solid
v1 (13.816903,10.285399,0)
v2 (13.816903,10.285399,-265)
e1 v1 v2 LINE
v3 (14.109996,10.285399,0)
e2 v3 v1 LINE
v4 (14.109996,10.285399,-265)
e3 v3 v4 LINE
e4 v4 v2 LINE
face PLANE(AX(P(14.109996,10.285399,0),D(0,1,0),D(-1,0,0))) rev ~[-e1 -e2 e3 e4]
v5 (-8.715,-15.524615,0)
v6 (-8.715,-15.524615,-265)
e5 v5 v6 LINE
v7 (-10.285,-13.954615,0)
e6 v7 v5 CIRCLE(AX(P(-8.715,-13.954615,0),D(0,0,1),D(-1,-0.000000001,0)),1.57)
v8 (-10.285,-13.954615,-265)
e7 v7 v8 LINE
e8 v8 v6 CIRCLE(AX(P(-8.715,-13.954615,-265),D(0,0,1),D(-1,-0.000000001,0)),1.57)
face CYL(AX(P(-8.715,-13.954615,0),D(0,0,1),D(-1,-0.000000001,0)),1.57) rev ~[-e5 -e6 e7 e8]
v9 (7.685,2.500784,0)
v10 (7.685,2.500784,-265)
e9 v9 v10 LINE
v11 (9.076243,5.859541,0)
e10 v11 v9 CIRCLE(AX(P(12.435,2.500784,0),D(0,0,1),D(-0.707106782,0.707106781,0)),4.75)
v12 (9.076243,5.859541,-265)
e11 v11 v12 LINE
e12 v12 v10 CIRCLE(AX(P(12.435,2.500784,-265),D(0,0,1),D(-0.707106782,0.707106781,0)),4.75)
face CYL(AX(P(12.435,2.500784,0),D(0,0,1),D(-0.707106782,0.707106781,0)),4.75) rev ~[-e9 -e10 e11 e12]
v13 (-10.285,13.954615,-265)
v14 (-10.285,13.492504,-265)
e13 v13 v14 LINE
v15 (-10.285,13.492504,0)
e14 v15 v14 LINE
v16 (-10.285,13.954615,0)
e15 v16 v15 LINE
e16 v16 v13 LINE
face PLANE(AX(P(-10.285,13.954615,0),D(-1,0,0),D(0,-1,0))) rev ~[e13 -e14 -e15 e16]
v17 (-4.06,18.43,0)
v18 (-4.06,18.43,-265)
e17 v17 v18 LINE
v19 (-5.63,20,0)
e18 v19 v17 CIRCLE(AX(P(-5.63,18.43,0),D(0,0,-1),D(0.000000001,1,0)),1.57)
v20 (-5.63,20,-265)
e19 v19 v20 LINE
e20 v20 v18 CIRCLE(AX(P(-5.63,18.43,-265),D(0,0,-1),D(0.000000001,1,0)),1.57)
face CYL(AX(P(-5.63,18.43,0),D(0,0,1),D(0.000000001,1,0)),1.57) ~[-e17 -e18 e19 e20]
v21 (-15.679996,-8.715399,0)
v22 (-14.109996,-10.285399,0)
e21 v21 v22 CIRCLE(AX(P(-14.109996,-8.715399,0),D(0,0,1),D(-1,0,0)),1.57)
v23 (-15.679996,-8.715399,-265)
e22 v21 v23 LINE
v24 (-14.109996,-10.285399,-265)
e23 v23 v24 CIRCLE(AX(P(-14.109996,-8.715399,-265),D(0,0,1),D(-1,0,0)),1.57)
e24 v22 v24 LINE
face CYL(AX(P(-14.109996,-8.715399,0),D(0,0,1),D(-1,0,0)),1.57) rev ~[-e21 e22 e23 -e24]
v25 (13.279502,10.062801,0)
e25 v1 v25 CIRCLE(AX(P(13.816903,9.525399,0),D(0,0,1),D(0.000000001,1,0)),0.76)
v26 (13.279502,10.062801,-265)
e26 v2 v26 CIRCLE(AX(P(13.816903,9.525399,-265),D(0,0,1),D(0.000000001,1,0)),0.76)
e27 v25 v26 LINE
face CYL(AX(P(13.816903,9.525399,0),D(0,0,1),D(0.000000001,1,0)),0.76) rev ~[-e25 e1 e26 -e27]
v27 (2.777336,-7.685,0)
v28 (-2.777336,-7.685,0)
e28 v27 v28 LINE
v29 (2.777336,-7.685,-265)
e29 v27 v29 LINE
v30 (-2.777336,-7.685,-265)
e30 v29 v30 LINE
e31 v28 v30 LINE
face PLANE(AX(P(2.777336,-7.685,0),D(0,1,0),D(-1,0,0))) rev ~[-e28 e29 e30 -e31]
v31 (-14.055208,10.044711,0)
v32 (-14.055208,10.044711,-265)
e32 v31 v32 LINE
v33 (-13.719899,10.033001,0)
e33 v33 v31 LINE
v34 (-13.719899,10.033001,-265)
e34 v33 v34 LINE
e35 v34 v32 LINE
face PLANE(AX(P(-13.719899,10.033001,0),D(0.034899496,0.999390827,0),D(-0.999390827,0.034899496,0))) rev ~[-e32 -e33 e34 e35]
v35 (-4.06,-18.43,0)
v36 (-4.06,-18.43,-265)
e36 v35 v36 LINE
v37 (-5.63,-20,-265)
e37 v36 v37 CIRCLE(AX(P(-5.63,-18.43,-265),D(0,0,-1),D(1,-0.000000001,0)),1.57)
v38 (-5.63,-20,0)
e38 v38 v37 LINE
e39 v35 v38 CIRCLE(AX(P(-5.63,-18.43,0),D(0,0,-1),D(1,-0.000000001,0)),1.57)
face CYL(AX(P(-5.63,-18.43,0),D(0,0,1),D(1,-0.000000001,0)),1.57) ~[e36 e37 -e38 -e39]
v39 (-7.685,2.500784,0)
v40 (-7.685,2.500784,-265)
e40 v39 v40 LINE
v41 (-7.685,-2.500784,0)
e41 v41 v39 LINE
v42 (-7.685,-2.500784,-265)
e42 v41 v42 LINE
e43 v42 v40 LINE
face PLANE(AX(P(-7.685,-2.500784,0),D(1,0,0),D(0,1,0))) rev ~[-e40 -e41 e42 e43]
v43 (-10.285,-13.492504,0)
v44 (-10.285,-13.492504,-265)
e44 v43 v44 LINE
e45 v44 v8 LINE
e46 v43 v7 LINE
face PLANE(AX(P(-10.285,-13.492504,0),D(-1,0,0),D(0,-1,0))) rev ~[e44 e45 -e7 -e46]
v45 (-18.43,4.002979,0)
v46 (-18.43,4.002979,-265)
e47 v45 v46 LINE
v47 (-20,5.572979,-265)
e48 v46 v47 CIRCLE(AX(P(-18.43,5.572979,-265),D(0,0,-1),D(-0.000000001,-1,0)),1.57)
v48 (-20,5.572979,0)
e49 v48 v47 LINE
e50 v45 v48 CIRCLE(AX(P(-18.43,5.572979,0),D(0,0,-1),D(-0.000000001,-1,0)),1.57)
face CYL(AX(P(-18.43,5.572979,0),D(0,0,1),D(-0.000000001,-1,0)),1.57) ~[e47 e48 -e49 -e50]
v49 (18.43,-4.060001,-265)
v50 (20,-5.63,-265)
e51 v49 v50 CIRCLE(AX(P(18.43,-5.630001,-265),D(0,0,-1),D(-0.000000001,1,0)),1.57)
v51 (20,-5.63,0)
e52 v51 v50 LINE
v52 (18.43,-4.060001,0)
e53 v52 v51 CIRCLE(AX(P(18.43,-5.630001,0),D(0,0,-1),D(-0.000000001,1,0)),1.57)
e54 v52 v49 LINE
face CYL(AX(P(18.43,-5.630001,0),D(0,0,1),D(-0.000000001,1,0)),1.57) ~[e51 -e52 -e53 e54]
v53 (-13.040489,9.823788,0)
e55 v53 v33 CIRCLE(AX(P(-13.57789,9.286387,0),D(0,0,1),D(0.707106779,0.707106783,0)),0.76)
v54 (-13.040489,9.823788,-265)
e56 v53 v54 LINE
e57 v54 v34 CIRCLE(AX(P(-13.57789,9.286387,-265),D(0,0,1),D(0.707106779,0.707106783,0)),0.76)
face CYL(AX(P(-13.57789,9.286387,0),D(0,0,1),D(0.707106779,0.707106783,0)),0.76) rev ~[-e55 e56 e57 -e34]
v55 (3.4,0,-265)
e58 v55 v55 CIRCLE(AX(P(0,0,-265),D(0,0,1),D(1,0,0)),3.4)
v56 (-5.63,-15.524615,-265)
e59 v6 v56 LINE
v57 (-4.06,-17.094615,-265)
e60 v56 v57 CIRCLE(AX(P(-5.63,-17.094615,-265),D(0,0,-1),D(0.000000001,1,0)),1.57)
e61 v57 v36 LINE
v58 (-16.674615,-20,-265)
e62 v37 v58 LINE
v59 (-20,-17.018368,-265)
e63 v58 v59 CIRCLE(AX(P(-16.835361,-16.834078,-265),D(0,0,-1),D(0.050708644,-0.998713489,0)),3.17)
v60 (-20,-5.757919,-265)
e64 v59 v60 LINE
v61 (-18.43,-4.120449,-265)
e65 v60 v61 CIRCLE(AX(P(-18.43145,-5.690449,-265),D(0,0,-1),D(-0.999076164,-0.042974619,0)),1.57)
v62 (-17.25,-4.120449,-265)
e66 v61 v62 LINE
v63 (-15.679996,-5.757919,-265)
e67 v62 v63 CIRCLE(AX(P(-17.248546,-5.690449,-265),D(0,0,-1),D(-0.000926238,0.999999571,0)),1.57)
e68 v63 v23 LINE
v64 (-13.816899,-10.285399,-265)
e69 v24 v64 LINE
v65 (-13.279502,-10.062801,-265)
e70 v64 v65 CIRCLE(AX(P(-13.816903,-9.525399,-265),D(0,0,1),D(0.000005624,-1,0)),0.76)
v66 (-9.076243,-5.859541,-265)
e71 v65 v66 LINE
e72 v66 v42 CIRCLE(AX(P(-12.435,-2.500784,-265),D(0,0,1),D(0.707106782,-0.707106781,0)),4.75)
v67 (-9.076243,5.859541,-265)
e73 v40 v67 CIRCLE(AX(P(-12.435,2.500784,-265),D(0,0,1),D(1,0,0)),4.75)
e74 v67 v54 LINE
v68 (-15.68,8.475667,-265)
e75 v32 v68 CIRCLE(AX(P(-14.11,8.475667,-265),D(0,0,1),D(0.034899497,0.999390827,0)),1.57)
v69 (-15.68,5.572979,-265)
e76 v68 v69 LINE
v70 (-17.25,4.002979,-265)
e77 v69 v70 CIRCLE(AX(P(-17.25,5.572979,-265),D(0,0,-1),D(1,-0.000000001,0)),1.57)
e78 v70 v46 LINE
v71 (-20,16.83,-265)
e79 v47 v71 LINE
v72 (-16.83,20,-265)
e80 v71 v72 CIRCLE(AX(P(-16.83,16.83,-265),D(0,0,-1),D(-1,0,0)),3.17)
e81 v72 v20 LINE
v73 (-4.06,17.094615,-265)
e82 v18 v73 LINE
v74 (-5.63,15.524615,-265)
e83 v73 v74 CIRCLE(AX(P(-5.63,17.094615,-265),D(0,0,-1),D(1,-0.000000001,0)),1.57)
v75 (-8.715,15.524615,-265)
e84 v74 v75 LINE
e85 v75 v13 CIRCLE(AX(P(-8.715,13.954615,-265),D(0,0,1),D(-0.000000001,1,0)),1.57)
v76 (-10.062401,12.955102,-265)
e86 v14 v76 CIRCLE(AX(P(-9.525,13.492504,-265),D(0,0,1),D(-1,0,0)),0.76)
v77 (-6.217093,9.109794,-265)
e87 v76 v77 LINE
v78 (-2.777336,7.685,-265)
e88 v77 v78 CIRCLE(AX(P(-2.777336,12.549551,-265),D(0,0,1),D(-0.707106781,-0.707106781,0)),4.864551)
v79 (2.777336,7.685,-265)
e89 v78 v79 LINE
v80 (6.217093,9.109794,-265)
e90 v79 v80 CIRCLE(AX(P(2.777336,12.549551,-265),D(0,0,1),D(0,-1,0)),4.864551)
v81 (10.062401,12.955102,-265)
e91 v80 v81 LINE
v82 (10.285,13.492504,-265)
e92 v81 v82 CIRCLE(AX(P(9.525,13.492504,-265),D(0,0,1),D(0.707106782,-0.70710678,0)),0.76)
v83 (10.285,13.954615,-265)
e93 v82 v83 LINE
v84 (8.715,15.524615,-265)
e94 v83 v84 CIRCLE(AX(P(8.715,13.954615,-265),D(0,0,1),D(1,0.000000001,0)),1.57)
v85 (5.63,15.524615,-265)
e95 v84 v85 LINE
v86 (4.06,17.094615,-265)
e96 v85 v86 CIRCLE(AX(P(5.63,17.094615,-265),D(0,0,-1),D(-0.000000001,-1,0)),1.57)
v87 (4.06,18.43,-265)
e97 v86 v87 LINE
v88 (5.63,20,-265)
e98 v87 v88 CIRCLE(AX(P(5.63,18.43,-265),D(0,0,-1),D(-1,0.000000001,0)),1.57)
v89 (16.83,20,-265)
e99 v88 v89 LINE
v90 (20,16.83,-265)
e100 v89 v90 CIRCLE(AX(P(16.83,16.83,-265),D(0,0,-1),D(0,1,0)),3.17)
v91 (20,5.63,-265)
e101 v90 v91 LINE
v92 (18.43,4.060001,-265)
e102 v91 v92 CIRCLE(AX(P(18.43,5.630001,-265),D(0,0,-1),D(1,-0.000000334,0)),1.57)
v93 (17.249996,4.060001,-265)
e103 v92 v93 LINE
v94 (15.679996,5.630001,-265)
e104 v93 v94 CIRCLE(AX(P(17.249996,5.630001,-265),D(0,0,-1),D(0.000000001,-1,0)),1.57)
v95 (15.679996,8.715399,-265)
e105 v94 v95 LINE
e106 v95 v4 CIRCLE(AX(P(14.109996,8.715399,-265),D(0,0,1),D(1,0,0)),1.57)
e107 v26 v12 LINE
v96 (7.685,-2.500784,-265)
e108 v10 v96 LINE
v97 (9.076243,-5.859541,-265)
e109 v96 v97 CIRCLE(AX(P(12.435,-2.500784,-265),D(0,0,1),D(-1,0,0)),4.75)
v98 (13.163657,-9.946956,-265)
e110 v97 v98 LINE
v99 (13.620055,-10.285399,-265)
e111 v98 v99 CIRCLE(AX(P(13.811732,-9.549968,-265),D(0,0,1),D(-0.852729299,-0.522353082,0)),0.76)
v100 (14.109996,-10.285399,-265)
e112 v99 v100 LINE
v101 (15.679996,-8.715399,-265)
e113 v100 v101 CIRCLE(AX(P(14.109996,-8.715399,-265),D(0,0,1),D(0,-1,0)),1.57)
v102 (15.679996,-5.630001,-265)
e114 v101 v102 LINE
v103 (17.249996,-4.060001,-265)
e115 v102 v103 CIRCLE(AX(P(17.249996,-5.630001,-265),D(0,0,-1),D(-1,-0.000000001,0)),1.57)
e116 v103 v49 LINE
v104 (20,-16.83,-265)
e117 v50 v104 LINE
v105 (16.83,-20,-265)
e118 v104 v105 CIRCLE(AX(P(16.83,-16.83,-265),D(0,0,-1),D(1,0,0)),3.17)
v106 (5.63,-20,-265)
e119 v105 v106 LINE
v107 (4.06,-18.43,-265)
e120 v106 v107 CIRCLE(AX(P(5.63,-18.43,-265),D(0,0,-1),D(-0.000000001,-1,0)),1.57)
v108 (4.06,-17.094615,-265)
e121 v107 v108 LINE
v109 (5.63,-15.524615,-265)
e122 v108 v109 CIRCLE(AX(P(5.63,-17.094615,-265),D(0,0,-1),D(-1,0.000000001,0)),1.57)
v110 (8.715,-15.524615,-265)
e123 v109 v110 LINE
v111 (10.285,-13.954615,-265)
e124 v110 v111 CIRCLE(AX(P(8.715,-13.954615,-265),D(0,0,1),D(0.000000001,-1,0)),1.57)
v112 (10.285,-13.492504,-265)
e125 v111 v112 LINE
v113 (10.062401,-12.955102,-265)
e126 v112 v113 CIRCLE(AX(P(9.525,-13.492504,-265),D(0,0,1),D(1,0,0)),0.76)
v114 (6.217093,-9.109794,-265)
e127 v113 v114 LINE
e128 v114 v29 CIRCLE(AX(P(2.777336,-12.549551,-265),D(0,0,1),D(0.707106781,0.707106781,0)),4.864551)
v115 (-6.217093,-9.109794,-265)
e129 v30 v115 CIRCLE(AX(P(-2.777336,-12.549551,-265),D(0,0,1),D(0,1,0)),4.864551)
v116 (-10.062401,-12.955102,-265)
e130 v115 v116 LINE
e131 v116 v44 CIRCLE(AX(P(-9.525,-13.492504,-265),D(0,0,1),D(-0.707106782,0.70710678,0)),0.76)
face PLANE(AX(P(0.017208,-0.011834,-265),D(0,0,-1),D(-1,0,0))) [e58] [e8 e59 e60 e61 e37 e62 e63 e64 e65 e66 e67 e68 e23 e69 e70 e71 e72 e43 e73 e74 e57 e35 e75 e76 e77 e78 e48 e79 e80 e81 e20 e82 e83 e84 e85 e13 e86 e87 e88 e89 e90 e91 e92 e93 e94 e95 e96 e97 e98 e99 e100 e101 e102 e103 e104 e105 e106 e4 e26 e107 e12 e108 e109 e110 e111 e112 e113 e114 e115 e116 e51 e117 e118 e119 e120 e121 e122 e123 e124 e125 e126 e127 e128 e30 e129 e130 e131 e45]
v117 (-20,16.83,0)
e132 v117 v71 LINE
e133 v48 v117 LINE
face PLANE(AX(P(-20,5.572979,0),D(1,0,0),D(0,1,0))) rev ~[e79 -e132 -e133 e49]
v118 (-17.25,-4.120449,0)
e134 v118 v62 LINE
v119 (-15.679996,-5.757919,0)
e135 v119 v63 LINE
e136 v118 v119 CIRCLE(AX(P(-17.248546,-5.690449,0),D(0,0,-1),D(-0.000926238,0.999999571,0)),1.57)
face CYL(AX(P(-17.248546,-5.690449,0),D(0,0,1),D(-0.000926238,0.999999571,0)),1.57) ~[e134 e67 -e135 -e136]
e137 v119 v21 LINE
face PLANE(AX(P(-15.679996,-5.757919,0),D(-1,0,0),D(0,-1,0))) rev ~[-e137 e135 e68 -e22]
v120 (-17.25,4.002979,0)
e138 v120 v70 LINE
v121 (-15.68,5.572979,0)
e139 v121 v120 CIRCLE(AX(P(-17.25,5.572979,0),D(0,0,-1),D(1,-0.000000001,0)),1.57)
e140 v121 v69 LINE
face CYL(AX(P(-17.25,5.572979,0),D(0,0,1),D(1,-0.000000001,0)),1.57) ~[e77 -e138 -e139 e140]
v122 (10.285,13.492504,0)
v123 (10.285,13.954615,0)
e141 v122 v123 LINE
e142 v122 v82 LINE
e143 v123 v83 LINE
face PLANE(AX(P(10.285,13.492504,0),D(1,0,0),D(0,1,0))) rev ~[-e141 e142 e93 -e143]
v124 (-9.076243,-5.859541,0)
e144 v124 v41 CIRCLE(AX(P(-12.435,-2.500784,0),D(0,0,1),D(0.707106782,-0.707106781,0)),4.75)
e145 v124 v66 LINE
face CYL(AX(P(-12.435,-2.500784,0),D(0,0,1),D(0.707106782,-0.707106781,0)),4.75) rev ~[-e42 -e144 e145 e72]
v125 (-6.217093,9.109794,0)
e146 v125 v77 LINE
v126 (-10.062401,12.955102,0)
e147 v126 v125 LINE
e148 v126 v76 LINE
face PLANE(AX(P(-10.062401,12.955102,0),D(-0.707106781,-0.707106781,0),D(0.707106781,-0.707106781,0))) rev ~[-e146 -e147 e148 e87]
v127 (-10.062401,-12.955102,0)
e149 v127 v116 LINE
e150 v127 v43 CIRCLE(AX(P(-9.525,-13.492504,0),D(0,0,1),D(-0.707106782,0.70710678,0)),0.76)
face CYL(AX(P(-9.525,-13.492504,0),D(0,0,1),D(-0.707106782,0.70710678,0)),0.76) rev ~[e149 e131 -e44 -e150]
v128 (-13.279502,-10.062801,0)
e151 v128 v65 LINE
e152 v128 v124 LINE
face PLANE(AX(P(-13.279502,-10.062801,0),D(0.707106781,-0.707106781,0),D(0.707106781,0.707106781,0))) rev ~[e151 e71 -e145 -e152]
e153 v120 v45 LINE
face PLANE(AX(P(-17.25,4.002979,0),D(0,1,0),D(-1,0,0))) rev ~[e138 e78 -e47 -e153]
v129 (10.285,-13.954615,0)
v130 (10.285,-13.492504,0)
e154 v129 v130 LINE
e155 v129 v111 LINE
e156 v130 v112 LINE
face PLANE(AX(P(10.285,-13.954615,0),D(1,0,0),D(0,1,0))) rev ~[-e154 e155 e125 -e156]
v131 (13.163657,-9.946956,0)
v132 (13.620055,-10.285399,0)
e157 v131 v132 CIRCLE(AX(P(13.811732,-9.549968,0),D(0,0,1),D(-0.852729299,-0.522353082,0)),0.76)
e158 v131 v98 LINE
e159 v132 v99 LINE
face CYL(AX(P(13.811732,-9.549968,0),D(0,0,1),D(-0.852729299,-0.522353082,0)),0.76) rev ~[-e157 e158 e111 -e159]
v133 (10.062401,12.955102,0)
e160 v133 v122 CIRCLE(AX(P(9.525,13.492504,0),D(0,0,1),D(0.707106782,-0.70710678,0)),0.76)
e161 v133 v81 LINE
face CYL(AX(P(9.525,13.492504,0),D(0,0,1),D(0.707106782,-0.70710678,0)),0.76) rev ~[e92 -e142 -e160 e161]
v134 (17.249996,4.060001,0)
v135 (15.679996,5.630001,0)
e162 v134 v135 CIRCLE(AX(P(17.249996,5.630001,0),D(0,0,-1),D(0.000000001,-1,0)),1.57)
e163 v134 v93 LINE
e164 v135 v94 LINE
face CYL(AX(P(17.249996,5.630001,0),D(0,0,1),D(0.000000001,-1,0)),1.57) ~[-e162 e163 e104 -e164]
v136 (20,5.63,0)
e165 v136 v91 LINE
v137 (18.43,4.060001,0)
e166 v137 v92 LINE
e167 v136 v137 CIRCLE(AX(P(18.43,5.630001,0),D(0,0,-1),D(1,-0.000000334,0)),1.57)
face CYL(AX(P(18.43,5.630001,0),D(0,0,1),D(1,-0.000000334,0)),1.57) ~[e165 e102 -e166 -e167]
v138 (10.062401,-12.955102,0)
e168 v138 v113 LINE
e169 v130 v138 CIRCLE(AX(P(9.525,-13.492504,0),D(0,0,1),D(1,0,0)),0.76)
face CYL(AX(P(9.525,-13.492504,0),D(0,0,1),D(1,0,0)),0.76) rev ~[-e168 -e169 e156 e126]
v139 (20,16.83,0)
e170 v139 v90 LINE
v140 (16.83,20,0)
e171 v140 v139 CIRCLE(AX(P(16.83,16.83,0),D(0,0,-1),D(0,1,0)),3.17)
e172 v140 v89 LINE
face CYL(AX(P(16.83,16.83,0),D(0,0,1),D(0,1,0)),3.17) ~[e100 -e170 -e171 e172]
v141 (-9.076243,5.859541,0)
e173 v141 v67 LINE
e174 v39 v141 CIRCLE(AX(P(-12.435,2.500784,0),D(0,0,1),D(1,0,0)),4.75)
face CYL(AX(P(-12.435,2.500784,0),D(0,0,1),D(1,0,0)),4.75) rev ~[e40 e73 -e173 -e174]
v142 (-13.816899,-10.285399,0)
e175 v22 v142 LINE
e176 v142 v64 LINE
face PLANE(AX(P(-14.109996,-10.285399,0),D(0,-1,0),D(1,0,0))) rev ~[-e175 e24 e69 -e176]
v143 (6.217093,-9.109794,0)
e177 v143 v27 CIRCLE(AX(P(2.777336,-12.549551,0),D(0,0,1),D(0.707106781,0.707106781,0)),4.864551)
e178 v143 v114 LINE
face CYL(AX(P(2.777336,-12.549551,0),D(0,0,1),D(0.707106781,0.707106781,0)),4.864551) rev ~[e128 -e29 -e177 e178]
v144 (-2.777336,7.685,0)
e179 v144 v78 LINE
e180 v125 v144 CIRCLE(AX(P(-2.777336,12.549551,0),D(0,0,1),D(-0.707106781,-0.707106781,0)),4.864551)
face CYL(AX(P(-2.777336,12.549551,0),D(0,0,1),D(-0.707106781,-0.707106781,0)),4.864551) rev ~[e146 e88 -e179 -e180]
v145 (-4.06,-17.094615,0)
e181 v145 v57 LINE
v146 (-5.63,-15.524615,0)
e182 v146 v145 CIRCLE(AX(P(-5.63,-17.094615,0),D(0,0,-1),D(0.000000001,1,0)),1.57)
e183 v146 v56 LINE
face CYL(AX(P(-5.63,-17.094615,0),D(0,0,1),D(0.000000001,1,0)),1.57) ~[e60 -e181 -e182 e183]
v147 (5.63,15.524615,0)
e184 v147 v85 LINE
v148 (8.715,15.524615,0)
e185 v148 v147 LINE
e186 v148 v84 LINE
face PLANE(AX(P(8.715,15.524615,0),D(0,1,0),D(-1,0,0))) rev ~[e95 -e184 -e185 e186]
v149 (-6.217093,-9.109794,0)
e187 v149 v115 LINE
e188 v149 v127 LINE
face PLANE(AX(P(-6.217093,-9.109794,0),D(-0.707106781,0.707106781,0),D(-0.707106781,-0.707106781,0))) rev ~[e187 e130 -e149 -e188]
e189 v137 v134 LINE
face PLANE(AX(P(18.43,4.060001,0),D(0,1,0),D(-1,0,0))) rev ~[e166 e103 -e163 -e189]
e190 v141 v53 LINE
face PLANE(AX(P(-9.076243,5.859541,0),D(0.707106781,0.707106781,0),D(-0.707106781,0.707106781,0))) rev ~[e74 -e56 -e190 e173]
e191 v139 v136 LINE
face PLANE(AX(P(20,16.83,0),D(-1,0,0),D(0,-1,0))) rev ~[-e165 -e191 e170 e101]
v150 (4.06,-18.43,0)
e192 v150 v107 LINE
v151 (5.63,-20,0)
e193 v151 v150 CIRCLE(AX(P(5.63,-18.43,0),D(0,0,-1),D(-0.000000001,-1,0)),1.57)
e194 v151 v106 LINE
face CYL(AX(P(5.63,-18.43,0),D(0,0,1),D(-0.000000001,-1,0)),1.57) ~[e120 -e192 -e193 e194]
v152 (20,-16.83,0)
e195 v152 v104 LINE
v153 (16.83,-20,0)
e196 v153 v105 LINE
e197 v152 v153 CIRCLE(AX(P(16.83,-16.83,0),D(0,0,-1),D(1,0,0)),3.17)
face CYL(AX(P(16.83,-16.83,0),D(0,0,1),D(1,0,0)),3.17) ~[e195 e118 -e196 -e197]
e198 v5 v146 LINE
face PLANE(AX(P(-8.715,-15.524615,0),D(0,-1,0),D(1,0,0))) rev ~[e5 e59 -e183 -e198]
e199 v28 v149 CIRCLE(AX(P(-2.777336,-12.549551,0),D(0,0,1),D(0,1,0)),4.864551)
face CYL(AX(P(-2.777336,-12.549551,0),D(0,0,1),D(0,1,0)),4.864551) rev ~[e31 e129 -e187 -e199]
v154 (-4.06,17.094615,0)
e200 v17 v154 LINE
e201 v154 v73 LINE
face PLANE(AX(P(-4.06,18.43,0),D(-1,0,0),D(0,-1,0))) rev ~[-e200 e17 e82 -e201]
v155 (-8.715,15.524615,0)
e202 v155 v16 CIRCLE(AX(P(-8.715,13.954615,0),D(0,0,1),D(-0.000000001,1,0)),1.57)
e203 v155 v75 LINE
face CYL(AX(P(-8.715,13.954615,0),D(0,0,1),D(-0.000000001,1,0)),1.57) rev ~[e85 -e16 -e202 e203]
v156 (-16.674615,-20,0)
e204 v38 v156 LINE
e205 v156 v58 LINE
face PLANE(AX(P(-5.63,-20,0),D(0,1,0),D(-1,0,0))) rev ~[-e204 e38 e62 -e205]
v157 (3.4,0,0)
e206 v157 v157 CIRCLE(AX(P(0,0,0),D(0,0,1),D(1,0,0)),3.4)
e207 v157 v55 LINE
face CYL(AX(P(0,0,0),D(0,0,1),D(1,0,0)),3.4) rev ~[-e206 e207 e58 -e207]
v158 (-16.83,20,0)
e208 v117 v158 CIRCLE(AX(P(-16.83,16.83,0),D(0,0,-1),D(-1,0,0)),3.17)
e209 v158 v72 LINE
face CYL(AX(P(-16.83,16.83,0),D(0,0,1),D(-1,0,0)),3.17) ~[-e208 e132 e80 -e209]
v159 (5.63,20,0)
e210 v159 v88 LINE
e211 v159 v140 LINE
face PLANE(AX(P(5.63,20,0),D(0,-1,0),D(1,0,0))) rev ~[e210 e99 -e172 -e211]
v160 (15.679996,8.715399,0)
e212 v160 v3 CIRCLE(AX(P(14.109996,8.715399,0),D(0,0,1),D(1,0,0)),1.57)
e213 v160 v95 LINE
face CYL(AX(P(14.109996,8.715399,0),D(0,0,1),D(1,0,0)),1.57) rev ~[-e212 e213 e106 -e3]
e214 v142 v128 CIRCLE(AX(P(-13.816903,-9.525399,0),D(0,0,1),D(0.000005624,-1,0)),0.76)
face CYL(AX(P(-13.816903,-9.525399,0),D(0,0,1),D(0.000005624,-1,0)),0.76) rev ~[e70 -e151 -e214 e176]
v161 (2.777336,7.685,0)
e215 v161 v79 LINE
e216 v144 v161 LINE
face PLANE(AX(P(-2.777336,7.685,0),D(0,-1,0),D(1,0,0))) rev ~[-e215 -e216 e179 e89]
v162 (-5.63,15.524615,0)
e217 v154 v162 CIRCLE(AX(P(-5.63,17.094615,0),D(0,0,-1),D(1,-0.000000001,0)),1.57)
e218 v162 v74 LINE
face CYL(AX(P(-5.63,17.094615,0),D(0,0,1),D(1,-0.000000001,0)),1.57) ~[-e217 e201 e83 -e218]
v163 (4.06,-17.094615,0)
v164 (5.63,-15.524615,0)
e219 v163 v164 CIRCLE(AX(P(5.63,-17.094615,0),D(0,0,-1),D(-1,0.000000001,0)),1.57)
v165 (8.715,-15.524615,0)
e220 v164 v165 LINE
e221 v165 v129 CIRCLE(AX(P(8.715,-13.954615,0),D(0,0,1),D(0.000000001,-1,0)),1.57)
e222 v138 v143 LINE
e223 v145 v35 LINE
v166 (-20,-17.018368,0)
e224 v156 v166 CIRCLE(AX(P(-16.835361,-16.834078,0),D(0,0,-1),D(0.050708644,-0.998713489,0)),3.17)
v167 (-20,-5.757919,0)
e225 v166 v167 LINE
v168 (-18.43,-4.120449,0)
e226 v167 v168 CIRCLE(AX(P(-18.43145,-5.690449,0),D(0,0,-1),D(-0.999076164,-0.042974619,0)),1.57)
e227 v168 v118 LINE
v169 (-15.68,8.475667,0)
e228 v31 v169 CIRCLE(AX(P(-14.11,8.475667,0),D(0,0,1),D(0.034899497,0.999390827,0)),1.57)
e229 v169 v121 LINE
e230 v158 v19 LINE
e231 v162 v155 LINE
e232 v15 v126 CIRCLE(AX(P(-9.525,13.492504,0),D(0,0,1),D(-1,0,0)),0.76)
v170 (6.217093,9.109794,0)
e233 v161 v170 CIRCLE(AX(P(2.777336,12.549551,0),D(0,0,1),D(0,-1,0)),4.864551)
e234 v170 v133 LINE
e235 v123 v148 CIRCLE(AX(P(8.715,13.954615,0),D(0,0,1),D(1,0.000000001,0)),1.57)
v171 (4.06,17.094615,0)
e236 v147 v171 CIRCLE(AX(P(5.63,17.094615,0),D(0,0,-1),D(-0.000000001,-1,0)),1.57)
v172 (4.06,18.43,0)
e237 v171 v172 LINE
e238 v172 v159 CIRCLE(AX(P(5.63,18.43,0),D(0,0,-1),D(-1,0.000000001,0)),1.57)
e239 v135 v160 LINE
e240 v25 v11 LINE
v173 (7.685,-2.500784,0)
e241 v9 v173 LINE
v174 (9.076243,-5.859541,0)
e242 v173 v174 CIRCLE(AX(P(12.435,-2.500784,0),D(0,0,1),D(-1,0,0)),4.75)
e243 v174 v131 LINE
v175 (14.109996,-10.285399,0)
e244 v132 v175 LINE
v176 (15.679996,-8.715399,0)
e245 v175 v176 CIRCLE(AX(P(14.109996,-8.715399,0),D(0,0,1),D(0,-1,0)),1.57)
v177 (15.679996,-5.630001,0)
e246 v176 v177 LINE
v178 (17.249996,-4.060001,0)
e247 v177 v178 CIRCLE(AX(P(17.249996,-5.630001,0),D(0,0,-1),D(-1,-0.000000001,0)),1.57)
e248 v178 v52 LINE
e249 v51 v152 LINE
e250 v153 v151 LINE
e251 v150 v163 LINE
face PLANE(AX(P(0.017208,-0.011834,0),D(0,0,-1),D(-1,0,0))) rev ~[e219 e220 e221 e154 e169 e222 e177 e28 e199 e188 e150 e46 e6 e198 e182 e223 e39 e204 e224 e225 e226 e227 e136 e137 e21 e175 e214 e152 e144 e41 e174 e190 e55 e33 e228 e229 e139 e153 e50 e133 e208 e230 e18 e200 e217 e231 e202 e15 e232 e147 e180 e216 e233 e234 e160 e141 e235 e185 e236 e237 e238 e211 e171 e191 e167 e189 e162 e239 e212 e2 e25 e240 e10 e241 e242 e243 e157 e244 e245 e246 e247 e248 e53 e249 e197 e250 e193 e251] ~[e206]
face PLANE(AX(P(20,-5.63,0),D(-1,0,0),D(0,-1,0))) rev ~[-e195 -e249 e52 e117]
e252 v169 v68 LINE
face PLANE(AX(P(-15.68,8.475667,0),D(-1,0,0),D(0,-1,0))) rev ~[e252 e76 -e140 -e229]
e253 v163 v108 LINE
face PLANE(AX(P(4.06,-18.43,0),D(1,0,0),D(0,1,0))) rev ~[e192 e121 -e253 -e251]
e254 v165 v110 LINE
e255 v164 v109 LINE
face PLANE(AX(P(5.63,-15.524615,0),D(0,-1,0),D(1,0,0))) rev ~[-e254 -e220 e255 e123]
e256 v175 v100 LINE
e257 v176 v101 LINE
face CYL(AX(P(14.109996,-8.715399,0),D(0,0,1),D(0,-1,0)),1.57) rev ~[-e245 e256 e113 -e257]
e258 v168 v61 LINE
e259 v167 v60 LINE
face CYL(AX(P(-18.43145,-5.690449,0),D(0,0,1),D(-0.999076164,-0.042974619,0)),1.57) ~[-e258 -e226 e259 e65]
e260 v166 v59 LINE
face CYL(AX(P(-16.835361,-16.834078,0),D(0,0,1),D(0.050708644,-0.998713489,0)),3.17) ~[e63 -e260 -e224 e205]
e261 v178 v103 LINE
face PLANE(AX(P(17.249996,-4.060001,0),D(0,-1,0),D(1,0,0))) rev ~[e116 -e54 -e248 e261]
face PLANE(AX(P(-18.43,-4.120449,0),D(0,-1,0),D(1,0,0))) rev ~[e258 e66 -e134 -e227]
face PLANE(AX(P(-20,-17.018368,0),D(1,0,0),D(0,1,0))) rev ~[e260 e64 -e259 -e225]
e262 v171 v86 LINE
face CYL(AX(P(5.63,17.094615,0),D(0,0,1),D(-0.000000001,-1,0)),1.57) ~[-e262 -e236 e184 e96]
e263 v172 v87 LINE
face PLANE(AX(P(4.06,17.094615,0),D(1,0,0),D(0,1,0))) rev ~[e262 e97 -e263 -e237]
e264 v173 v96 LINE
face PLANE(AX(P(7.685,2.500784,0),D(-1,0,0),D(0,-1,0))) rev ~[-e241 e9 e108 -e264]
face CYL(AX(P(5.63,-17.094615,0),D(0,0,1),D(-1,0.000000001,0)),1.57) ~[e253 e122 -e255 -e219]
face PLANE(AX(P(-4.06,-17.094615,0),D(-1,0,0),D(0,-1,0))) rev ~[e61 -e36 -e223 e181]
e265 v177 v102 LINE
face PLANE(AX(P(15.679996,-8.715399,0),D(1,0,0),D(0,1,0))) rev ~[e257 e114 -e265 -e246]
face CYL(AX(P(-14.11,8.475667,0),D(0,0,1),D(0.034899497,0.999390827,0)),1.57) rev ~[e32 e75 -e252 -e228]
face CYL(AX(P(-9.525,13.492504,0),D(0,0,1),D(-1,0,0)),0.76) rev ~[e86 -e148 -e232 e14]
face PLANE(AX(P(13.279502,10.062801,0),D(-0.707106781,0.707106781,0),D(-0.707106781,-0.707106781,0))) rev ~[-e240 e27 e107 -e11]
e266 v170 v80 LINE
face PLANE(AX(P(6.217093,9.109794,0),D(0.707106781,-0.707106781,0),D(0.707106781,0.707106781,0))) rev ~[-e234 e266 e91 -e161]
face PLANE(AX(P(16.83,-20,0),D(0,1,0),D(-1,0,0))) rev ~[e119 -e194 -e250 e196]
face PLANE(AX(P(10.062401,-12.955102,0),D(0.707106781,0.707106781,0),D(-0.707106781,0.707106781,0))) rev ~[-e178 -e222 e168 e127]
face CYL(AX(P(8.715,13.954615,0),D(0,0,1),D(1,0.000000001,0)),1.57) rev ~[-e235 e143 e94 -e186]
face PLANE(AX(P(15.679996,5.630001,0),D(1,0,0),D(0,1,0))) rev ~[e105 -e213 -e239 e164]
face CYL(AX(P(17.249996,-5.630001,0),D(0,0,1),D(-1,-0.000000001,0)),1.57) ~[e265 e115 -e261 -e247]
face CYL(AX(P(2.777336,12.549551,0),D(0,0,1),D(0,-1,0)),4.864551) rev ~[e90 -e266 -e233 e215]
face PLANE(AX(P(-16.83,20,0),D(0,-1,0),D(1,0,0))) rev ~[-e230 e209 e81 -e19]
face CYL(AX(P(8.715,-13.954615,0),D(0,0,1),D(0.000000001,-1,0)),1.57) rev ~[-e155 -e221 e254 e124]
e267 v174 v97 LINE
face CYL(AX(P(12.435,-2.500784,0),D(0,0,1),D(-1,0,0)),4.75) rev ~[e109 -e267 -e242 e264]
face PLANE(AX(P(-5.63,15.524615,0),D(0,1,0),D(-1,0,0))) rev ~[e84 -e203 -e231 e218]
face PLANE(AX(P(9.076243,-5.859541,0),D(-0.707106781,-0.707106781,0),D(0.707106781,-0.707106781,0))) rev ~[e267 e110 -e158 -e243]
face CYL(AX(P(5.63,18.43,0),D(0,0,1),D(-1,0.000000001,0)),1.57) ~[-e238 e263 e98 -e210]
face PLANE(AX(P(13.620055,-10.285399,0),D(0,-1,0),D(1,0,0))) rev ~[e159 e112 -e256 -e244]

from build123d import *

# Parameters (mm, degrees)
SKETCH1_R      = 3.4
EXTRUDE1_DEPTH = 265


with BuildPart() as part:
    # Sketch1 → Extrude1 (new body)
    with BuildSketch(Plane.XY):
        with BuildLine():
            Line((-8.715, -15.524615034), (-5.63, -15.524615034))
            ThreePointArc((-5.63, -15.524615034), (-4.519842354, -15.984457388), (-4.06, -17.094615034))
            Line((-4.06, -17.094615034), (-4.06, -18.43))
            ThreePointArc((-4.06, -18.43), (-4.519842354, -19.540157646), (-5.63, -20))
            Line((-5.63, -20), (-16.674615034, -20))
            ThreePointArc((-16.674615034, -20), (-18.951578385, -19.194274381), (-20, -17.018368134))
            Line((-20, -17.018368134), (-20, -5.757918808))
            ThreePointArc((-20, -5.757918808), (-19.564709668, -4.603883664), (-18.43, -4.120449326))
            Line((-18.43, -4.120449326), (-17.25, -4.120449326))
            ThreePointArc((-17.25, -4.120449326), (-16.115287682, -4.60388249), (-15.67999625, -5.757919334))
            Line((-15.67999625, -5.757919334), (-15.67999625, -8.715399492))
            ThreePointArc((-15.67999625, -8.715399492), (-15.220153896, -9.825557139), (-14.10999625, -10.285399492))
            Line((-14.10999625, -10.285399492), (-13.816898819, -10.285399492))
            ThreePointArc((-13.816898819, -10.285399492), (-13.526061711, -10.227547119), (-13.279501941, -10.062800646))
            Line((-13.279501941, -10.062800646), (-9.076242789, -5.859541495))
            ThreePointArc((-9.076242789, -5.859541495), (-8.046572221, -4.318530588), (-7.685, -2.500784284))
            Line((-7.685, -2.500784284), (-7.685, 2.500784284))
            ThreePointArc((-7.685, 2.500784284), (-8.046572221, 4.318530588), (-9.076242789, 5.859541495))
            Line((-9.076242789, 5.859541495), (-13.040489136, 9.823787841))
            ThreePointArc((-13.040489136, 9.823787841), (-13.354224618, 10.012729352), (-13.71989919, 10.033001362))
            Line((-13.71989919, 10.033001362), (-14.05520779, 10.044710596))
            ThreePointArc((-14.05520779, 10.044710596), (-15.200613642, 9.605030484), (-15.68, 8.475666998))
            Line((-15.68, 8.475666998), (-15.68, 5.572979049))
            ThreePointArc((-15.68, 5.572979049), (-16.139842354, 4.462821403), (-17.25, 4.002979049))
            Line((-17.25, 4.002979049), (-18.43, 4.002979049))
            ThreePointArc((-18.43, 4.002979049), (-19.540157646, 4.462821403), (-20, 5.572979049))
            Line((-20, 5.572979049), (-20, 13.004526564))
            Line((-20, 13.004526564), (-20, 16.83))
            ThreePointArc((-20, 16.83), (-19.071528496, 19.071528496), (-16.83, 20))
            Line((-16.83, 20), (-5.63, 20))
            ThreePointArc((-5.63, 20), (-4.519842354, 19.540157646), (-4.06, 18.43))
            Line((-4.06, 18.43), (-4.06, 17.094615034))
            ThreePointArc((-4.06, 17.094615034), (-4.519842354, 15.984457388), (-5.63, 15.524615034))
            Line((-5.63, 15.524615034), (-8.715, 15.524615034))
            ThreePointArc((-8.715, 15.524615034), (-9.825157646, 15.06477268), (-10.285, 13.954615034))
            Line((-10.285, 13.954615034), (-10.285, 13.492503602))
            ThreePointArc((-10.285, 13.492503602), (-10.227148445, 13.201664194), (-10.062401154, 12.955102448))
            Line((-10.062401154, 12.955102448), (-6.217092793, 9.109794088))
            ThreePointArc((-6.217092793, 9.109794088), (-4.63891877, 8.055291919), (-2.777335583, 7.685))
            Line((-2.777335583, 7.685), (2.777335583, 7.685))
            ThreePointArc((2.777335583, 7.685), (4.63891877, 8.055291919), (6.217092793, 9.109794088))
            Line((6.217092793, 9.109794088), (10.062401154, 12.955102448))
            ThreePointArc((10.062401154, 12.955102448), (10.227148445, 13.201664194), (10.285, 13.492503602))
            Line((10.285, 13.492503602), (10.285, 13.954615034))
            ThreePointArc((10.285, 13.954615034), (9.825157646, 15.06477268), (8.715, 15.524615034))
            Line((8.715, 15.524615034), (5.63, 15.524615034))
            ThreePointArc((5.63, 15.524615034), (4.519842354, 15.984457388), (4.06, 17.094615034))
            Line((4.06, 17.094615034), (4.06, 18.43))
            ThreePointArc((4.06, 18.43), (4.519842354, 19.540157646), (5.63, 20))
            Line((5.63, 20), (12.979635074, 20))
            Line((12.979635074, 20), (16.83, 20))
            ThreePointArc((16.83, 20), (19.071528496, 19.071528496), (20, 16.83))
            Line((20, 16.83), (20, 13.001098436))
            Line((20, 13.001098436), (20, 5.63))
            ThreePointArc((20, 5.63), (19.540157461, 4.519842693), (18.43, 4.060000526))
            Line((18.43, 4.060000526), (17.24999625, 4.060000526))
            ThreePointArc((17.24999625, 4.060000526), (16.139838603, 4.519842879), (15.67999625, 5.630000526))
            Line((15.67999625, 5.630000526), (15.67999625, 8.715399492))
            ThreePointArc((15.67999625, 8.715399492), (15.220153896, 9.825557139), (14.10999625, 10.285399492))
            Line((14.10999625, 10.285399492), (13.816903094, 10.285399492))
            ThreePointArc((13.816903094, 10.285399492), (13.526063686, 10.227547937), (13.279501941, 10.062800646))
            Line((13.279501941, 10.062800646), (9.076242789, 5.859541495))
            ThreePointArc((9.076242789, 5.859541495), (8.046572221, 4.318530588), (7.685, 2.500784284))
            Line((7.685, 2.500784284), (7.685, -2.500784284))
            ThreePointArc((7.685, -2.500784284), (8.046572221, -4.318530588), (9.076242789, -5.859541495))
            Line((9.076242789, -5.859541495), (13.163657296, -9.946956002))
            ThreePointArc((13.163657296, -9.946956002), (13.35903797, -10.160433474), (13.6200547, -10.285399492))
            Line((13.6200547, -10.285399492), (14.10999625, -10.285399492))
            ThreePointArc((14.10999625, -10.285399492), (15.220153896, -9.825557139), (15.67999625, -8.715399492))
            Line((15.67999625, -8.715399492), (15.67999625, -5.630000526))
            ThreePointArc((15.67999625, -5.630000526), (16.139838603, -4.519842879), (17.24999625, -4.060000526))
            Line((17.24999625, -4.060000526), (18.43, -4.060000526))
            ThreePointArc((18.43, -4.060000526), (19.540157461, -4.519842693), (20, -5.63))
            Line((20, -5.63), (20, -16.83))
            ThreePointArc((20, -16.83), (19.071528496, -19.071528496), (16.83, -20))
            Line((16.83, -20), (13, -20))
            Line((13, -20), (5.63, -20))
            ThreePointArc((5.63, -20), (4.519842354, -19.540157646), (4.06, -18.43))
            Line((4.06, -18.43), (4.06, -17.094615034))
            ThreePointArc((4.06, -17.094615034), (4.519842354, -15.984457388), (5.63, -15.524615034))
            Line((5.63, -15.524615034), (8.715, -15.524615034))
            ThreePointArc((8.715, -15.524615034), (9.825157646, -15.06477268), (10.285, -13.954615034))
            Line((10.285, -13.954615034), (10.285, -13.492503602))
            ThreePointArc((10.285, -13.492503602), (10.227148445, -13.201664194), (10.062401154, -12.955102448))
            Line((10.062401154, -12.955102448), (6.217092793, -9.109794088))
            ThreePointArc((6.217092793, -9.109794088), (4.63891877, -8.055291919), (2.777335583, -7.685))
            Line((2.777335583, -7.685), (-2.777335583, -7.685))
            ThreePointArc((-2.777335583, -7.685), (-4.63891877, -8.055291919), (-6.217092793, -9.109794088))
            Line((-6.217092793, -9.109794088), (-10.062401154, -12.955102448))
            ThreePointArc((-10.062401154, -12.955102448), (-10.227148445, -13.201664194), (-10.285, -13.492503602))
            Line((-10.285, -13.492503602), (-10.285, -13.954615034))
            ThreePointArc((-10.285, -13.954615034), (-9.825157646, -15.06477268), (-8.715, -15.524615034))
        make_face()
        Circle(SKETCH1_R, mode=Mode.SUBTRACT)
    extrude(amount=-EXTRUDE1_DEPTH)


solid = part.part
